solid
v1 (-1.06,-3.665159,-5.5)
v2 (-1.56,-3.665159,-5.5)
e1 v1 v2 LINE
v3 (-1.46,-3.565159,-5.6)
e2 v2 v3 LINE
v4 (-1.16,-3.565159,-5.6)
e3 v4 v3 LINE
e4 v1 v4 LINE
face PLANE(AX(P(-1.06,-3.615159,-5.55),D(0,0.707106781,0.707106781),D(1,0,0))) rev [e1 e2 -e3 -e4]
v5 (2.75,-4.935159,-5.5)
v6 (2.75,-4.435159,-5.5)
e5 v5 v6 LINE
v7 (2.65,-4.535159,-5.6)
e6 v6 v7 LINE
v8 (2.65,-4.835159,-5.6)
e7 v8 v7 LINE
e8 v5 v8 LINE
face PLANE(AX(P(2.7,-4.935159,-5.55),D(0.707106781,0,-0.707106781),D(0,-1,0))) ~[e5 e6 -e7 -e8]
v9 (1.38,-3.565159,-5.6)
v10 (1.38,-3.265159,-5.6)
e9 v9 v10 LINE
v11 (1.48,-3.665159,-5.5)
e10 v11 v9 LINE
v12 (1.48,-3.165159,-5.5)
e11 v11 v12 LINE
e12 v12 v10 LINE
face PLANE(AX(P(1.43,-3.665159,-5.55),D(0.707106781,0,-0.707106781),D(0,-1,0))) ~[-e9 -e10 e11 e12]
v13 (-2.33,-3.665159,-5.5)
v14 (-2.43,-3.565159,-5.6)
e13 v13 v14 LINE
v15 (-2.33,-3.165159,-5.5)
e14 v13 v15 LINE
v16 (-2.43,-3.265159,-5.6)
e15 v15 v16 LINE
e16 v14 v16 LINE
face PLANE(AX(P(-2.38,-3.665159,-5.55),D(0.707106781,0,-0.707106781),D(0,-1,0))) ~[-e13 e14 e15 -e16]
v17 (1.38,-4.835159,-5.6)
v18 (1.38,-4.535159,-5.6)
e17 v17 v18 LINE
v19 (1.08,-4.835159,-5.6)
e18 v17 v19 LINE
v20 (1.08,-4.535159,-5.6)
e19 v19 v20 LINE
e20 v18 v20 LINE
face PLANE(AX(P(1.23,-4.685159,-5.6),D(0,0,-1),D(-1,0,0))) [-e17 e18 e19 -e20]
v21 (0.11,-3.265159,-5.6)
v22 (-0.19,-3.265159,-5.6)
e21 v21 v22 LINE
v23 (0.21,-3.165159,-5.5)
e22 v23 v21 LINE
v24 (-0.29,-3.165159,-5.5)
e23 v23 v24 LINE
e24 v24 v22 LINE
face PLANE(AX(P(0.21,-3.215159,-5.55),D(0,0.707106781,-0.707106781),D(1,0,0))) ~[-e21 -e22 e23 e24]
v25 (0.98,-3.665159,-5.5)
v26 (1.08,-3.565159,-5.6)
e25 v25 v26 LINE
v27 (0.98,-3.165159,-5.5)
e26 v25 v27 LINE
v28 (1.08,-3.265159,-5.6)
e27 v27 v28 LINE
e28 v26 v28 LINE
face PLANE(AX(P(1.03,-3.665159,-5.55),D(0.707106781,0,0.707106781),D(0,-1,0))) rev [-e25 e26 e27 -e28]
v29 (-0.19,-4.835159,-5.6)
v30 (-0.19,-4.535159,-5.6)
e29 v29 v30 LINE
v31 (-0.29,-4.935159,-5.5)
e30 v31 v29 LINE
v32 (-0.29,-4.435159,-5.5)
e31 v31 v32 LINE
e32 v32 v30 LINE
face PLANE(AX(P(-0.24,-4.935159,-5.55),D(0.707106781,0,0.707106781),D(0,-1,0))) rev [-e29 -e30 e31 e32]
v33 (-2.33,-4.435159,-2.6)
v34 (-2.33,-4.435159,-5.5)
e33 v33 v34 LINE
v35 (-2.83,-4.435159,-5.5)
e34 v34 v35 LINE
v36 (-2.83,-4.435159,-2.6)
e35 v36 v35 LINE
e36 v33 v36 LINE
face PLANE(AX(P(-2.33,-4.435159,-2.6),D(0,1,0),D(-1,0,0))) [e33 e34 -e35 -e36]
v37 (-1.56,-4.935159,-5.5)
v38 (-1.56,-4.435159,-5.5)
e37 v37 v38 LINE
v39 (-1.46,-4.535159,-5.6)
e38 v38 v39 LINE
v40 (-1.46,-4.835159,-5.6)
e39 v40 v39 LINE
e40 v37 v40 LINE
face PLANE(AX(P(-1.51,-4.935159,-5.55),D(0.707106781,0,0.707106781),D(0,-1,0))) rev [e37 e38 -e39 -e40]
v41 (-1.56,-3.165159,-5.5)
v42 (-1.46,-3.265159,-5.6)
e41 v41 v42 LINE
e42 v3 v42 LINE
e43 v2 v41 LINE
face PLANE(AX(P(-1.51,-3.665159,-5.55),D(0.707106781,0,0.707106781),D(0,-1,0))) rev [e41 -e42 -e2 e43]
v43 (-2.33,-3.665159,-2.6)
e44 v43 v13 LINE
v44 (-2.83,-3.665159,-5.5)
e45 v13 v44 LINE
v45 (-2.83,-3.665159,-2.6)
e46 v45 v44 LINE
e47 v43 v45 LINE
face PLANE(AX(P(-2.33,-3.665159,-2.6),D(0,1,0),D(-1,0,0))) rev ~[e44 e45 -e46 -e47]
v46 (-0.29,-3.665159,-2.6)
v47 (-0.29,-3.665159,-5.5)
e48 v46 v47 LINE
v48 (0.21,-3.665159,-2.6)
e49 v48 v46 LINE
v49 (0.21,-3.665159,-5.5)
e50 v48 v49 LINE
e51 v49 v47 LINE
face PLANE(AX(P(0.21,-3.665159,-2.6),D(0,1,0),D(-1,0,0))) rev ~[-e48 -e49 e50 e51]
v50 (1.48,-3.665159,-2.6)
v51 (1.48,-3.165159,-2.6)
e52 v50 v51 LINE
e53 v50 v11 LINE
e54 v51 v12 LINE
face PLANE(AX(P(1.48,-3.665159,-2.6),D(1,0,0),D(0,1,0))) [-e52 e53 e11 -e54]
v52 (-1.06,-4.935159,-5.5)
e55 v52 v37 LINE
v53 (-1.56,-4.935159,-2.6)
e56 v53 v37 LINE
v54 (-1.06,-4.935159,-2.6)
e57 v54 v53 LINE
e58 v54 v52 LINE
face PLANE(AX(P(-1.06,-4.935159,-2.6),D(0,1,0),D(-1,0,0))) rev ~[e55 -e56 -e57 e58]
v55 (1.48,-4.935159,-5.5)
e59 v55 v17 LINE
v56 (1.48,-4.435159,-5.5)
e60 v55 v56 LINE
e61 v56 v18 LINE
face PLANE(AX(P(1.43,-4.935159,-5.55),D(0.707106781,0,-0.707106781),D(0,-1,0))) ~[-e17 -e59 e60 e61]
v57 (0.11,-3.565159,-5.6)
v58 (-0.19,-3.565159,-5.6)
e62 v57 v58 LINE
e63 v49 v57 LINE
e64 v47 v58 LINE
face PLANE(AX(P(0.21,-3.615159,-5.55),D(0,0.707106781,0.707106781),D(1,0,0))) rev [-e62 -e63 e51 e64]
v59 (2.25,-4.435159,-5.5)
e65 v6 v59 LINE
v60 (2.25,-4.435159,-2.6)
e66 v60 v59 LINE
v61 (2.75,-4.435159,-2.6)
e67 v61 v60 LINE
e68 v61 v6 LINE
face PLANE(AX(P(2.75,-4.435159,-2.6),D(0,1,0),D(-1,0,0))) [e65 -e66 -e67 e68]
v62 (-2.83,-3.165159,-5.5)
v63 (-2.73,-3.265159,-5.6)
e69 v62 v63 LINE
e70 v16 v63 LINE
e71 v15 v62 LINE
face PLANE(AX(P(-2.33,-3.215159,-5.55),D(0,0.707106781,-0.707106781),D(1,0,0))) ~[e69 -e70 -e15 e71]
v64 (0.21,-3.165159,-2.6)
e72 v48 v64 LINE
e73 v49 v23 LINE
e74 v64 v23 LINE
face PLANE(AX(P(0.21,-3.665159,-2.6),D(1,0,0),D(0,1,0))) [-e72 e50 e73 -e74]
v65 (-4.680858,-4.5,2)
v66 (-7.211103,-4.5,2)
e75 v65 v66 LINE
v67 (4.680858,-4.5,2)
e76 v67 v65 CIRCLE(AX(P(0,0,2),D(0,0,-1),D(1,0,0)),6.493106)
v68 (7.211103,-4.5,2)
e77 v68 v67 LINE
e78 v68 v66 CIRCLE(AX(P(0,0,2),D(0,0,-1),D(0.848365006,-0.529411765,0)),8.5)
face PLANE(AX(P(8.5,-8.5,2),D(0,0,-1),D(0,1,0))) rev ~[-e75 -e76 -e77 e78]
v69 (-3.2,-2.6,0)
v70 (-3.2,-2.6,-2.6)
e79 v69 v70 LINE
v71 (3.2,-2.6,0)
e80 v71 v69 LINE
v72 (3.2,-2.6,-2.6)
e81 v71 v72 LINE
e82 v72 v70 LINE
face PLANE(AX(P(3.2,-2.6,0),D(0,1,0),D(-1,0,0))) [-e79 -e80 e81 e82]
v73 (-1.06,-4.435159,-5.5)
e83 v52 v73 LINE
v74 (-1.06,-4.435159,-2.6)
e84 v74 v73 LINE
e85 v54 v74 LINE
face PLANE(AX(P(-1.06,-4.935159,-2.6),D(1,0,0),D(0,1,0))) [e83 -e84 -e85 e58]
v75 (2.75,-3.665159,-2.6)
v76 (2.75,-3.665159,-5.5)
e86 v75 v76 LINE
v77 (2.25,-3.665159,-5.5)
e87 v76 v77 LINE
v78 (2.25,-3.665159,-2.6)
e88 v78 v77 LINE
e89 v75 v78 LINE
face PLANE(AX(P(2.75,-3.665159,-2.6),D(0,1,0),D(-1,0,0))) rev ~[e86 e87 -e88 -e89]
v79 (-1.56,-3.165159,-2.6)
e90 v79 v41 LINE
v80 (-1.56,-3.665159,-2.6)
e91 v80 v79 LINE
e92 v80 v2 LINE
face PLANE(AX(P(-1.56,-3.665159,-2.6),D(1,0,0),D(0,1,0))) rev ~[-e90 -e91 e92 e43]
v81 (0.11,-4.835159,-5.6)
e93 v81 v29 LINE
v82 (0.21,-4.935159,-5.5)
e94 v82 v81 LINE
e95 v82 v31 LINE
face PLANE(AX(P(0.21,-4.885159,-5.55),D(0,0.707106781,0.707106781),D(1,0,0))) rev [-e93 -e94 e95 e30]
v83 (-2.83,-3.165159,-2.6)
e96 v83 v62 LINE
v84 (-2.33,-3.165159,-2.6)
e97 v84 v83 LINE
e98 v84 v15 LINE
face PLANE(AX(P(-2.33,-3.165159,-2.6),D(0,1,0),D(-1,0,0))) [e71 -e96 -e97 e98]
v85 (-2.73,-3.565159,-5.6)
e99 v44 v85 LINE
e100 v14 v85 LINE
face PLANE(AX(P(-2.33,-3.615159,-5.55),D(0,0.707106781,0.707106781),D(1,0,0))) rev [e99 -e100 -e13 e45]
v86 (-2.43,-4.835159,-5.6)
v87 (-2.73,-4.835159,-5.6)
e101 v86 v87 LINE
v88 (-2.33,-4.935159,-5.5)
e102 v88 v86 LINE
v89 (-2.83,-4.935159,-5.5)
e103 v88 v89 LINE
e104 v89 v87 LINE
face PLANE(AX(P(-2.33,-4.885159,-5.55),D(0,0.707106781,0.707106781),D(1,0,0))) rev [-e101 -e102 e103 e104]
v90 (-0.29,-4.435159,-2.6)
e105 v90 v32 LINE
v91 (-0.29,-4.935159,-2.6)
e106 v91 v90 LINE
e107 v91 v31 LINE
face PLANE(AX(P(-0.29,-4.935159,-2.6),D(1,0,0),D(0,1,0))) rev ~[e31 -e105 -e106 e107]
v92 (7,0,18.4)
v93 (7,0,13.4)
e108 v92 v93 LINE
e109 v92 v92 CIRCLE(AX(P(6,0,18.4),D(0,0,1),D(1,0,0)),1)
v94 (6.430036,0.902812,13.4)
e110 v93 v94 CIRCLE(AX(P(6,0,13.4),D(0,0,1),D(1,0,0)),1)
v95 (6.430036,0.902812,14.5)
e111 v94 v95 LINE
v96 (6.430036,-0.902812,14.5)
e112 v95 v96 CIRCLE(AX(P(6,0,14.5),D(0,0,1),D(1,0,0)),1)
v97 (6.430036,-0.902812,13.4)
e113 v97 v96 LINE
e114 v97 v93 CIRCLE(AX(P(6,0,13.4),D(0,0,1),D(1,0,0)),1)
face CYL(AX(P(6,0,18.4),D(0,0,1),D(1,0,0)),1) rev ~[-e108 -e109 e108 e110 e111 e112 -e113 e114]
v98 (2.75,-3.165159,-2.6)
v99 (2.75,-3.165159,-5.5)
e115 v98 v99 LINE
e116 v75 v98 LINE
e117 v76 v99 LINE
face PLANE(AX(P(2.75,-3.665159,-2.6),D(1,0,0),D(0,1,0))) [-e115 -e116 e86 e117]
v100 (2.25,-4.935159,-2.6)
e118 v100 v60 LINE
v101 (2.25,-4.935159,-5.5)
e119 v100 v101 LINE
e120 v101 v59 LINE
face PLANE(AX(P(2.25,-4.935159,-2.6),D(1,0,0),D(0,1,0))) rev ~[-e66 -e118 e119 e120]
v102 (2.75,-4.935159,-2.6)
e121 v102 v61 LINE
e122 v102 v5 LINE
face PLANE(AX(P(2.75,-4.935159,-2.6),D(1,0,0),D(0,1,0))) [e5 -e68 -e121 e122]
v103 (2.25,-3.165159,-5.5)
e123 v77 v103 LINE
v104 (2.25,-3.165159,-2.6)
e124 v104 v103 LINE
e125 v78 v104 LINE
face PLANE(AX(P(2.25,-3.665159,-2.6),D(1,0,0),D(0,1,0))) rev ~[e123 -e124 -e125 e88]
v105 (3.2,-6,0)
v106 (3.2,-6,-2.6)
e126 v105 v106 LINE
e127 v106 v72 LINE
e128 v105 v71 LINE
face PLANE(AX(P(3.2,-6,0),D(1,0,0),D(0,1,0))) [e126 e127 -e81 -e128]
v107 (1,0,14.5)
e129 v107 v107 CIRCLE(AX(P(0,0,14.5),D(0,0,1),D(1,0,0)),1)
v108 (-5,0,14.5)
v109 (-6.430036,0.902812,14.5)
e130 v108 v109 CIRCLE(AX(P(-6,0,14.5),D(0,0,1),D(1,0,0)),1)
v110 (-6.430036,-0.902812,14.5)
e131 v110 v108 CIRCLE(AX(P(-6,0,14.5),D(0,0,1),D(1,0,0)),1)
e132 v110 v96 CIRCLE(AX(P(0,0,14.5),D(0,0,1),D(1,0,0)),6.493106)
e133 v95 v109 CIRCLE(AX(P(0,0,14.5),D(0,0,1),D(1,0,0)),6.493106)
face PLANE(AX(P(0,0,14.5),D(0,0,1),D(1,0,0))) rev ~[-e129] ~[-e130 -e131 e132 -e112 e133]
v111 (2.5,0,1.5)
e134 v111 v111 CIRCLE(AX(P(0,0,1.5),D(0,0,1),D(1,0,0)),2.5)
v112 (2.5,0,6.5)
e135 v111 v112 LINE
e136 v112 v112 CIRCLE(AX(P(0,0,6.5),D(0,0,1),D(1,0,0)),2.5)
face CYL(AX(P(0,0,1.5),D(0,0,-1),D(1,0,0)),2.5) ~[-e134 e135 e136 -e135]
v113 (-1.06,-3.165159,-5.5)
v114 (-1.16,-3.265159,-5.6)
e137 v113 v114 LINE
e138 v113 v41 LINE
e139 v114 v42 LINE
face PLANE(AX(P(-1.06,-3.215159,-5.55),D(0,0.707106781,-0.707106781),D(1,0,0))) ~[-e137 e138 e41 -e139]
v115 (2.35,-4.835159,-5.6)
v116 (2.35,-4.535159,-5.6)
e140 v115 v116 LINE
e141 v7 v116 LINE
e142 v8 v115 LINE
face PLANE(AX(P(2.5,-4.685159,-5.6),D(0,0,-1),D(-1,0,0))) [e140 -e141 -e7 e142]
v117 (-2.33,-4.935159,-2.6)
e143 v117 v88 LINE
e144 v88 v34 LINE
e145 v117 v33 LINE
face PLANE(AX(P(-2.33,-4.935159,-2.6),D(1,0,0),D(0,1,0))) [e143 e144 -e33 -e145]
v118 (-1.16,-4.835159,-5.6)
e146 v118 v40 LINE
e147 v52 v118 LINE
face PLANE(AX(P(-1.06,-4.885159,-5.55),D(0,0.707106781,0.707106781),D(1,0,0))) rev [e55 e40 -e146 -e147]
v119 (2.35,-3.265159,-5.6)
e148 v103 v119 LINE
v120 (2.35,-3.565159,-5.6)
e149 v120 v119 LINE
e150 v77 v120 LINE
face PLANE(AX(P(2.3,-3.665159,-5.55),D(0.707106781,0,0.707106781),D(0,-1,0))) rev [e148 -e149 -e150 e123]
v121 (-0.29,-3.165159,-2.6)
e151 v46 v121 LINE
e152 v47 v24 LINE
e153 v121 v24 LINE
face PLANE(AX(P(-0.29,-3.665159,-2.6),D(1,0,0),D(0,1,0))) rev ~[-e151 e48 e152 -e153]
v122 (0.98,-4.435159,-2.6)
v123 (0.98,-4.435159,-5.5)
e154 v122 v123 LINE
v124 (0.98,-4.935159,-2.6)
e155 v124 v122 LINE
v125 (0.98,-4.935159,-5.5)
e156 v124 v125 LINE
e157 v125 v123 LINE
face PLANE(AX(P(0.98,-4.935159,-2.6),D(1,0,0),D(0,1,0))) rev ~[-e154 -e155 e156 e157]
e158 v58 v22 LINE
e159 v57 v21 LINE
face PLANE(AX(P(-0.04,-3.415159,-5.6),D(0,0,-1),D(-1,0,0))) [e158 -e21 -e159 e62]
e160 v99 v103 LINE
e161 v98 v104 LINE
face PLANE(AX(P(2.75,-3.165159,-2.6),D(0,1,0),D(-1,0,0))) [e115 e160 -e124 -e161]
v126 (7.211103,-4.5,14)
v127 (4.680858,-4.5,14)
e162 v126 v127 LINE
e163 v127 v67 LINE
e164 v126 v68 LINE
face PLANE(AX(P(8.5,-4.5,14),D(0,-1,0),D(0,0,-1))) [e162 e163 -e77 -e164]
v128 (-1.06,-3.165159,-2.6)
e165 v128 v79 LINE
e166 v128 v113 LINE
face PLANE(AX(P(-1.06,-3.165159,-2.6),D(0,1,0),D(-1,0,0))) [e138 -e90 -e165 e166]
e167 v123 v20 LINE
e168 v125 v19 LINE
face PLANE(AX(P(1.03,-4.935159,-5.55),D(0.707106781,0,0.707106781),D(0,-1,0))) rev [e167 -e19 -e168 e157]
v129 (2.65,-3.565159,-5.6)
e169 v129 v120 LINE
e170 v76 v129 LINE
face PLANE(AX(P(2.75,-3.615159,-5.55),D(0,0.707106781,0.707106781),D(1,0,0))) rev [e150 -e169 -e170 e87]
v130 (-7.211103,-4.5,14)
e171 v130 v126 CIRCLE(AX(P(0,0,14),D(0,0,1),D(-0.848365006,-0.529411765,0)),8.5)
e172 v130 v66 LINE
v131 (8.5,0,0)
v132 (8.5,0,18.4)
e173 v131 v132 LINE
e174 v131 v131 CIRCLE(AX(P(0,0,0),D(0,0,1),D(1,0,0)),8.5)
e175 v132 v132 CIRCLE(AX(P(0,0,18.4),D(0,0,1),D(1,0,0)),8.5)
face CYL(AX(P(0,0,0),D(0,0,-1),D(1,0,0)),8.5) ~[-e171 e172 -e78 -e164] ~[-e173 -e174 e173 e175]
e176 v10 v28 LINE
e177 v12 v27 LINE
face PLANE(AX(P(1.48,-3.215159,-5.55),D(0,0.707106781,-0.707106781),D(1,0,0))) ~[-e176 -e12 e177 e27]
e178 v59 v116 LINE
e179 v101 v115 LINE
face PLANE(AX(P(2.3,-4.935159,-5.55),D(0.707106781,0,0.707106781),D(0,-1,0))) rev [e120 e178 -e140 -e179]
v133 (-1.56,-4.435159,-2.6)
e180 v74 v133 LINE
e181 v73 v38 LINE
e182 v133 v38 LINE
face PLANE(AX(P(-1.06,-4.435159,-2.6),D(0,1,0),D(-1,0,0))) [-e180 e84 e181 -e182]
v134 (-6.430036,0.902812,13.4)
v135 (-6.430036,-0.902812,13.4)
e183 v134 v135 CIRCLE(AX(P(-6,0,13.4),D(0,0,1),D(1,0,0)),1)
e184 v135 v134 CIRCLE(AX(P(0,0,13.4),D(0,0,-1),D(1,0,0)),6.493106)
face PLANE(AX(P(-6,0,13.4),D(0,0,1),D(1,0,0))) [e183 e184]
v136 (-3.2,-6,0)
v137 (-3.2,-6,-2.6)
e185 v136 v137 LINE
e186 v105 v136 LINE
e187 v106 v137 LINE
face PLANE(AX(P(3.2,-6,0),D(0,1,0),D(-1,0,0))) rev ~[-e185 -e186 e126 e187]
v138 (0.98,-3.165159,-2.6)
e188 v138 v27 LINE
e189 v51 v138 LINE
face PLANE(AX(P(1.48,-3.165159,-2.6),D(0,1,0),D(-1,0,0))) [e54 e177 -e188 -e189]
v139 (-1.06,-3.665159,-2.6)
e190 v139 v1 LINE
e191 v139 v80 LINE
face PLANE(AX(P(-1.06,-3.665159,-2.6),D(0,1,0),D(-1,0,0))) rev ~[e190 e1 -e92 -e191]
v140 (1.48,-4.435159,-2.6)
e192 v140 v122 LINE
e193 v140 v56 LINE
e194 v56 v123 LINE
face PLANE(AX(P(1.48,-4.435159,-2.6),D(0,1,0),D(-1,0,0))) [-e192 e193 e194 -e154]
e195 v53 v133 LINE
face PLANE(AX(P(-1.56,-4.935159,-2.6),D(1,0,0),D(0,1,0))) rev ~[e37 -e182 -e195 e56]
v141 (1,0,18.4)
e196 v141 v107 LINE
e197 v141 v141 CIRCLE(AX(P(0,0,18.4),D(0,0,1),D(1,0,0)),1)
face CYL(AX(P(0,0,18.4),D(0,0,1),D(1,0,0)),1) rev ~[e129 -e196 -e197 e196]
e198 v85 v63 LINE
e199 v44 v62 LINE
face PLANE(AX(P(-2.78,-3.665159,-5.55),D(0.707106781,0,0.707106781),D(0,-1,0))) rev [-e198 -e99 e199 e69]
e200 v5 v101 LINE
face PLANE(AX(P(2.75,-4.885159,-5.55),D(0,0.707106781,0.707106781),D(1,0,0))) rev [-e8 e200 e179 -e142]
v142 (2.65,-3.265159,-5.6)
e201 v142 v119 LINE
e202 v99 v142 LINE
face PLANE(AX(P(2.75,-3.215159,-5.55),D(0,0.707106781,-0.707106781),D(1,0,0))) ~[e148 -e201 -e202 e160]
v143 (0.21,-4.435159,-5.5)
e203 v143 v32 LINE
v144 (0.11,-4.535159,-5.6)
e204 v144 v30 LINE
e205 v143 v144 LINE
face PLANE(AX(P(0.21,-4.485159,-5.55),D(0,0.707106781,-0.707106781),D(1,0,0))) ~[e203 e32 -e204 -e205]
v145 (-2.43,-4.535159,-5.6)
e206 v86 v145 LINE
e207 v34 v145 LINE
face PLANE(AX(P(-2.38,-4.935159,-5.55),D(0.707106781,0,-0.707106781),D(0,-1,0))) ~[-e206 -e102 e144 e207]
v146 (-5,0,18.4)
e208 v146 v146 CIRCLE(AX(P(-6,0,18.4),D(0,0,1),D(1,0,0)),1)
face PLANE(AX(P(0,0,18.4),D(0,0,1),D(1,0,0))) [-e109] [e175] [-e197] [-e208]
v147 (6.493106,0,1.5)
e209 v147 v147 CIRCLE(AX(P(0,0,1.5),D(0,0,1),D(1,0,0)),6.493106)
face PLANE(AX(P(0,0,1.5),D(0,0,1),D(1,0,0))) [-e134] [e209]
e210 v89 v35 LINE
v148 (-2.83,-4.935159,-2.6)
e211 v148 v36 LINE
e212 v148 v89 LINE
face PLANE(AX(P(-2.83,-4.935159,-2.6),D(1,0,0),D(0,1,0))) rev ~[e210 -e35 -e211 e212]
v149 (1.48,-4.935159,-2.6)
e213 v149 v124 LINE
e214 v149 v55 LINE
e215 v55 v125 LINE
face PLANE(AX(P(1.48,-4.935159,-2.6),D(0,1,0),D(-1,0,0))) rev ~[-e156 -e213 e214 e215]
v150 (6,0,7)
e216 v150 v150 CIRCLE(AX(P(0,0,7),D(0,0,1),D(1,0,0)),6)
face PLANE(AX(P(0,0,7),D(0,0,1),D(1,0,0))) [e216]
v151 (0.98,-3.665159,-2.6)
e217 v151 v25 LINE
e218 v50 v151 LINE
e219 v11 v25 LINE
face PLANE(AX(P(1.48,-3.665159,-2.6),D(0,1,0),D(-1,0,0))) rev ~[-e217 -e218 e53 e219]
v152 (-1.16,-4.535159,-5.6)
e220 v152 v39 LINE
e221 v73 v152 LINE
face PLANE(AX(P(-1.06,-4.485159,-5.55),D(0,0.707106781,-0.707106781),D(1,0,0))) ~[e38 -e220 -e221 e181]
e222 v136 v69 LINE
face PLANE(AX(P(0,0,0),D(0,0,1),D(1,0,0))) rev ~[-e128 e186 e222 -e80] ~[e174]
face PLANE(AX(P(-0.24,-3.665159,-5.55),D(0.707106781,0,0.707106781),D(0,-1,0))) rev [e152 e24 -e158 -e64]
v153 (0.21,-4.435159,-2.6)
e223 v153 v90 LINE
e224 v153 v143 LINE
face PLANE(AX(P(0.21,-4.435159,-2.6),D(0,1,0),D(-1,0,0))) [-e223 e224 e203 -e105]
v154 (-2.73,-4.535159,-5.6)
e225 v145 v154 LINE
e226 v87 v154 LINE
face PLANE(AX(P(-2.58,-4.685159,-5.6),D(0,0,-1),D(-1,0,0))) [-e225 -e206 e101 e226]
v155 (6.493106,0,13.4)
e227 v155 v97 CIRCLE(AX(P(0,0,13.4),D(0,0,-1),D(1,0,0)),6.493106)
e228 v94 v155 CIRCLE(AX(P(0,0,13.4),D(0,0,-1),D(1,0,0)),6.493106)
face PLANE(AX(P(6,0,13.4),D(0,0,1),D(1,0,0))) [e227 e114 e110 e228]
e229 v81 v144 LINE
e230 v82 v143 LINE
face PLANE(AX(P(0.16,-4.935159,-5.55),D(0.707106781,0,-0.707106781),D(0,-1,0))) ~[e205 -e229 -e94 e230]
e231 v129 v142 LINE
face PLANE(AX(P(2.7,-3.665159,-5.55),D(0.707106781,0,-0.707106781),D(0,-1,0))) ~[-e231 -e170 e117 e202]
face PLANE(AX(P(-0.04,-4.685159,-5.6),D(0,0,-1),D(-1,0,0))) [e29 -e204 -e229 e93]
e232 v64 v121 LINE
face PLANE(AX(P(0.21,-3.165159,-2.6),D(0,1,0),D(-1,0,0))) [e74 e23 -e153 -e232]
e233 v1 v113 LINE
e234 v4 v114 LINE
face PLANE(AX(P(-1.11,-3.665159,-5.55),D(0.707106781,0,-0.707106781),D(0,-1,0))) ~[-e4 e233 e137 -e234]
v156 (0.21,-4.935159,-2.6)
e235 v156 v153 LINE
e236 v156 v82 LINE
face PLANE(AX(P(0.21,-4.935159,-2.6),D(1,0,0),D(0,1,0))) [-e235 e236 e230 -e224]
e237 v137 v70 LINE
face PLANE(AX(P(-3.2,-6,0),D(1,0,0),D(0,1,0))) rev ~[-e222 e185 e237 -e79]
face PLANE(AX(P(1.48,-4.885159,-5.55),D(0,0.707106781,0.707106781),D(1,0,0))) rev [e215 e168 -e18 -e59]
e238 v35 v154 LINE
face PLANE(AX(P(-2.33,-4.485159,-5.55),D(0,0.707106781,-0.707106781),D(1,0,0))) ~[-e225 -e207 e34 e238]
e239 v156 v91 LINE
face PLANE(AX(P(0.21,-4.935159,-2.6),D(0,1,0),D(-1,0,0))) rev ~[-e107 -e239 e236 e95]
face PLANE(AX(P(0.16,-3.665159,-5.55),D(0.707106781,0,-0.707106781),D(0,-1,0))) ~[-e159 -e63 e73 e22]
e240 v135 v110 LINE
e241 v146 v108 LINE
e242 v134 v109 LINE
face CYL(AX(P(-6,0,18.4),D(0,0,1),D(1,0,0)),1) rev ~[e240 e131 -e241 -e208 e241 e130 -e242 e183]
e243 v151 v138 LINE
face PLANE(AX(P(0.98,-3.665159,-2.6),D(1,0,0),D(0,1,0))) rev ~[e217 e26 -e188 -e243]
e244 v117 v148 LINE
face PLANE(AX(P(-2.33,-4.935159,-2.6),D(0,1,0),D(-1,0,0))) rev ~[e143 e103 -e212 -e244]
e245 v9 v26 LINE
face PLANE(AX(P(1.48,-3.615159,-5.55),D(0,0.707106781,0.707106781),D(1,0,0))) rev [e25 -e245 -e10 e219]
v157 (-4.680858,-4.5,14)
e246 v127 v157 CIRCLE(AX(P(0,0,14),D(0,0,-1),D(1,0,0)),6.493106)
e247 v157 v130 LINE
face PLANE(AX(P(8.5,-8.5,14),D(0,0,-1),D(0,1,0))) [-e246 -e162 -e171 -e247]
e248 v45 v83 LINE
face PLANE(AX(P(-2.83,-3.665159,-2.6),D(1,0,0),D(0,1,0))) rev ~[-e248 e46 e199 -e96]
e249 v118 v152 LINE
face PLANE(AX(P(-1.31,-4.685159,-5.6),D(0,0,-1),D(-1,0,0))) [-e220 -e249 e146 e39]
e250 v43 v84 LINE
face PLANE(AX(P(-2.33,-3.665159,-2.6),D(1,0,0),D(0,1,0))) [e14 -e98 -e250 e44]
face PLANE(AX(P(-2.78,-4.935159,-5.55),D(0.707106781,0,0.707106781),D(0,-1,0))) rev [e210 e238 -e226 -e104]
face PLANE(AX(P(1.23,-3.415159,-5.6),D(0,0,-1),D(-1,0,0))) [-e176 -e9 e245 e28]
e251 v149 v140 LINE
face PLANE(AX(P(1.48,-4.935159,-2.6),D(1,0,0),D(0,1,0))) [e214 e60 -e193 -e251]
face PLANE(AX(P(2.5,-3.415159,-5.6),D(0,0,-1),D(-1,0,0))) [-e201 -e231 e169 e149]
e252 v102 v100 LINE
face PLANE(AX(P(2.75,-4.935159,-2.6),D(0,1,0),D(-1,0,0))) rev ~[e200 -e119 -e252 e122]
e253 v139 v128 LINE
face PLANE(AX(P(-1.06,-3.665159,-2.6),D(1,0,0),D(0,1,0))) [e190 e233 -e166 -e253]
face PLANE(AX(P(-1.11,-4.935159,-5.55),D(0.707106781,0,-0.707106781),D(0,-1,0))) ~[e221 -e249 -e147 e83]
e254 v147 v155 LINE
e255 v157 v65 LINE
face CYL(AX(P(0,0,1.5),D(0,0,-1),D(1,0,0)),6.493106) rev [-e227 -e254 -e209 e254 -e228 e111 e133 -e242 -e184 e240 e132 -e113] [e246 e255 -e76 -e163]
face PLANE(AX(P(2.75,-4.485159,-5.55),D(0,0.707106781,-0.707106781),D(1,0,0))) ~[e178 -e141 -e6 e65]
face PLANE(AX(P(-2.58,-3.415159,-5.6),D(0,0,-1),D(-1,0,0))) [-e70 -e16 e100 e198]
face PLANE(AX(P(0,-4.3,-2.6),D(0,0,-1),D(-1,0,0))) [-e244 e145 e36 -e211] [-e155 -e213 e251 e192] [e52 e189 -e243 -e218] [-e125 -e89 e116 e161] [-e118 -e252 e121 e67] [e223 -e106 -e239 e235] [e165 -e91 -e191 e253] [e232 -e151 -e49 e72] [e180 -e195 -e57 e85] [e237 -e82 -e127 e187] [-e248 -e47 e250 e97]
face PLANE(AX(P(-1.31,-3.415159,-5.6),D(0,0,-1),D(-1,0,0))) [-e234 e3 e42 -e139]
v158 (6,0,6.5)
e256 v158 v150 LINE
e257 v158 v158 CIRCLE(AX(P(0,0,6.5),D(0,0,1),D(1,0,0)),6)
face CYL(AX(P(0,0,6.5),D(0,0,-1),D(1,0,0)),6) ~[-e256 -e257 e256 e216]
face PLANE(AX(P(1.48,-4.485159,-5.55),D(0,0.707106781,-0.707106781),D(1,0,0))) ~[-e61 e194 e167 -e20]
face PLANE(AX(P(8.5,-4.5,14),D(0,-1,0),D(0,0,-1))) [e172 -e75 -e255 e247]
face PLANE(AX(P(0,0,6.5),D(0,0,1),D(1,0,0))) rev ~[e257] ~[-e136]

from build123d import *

# Parameters (mm, degrees)
ESQUISSE1_R                  = 8.5
BOSS_EXTRU_1_DEPTH           = 18.4
ESQUISSE2_W                  = 6.4
ESQUISSE2_H                  = 3.4
BOSS_EXTRU_2_DEPTH           = 2.6
ESQUISSE3_W                  = 0.5
ESQUISSE3_H                  = 0.5
BOSS_EXTRU_3_DEPTH           = 3
CHANFREIN1_SIZE              = 0.1
ESQUISSE4_W                  = 12
ESQUISSE4_H                  = 4
ENL_V_MAT_EXTRU_1_DEPTH      = 27.453922204
ESQUISSE5_R                  = 1
ENL_V_MAT_EXTRU_2_DEPTH      = 5
ENL_V_MAT_EXTRU_3_DEPTH      = 12.5
ENL_V_MAT_EXTRU_3_DEPTH_BACK = 0.5
ESQUISSE6_R                  = 6.493106385
ESQUISSE7_R                  = 2.5
BOSS_EXTRU_4_DEPTH           = 5
ESQUISSE8_R                  = 6
BOSS_EXTRU_5_DEPTH           = 0.5
ESQUISSE10_R                 = 1
ENL_V_MAT_EXTRU_4_DEPTH      = 10


with BuildPart() as part:
    # Esquisse1 → Boss.-Extru.1 (new body)
    with BuildSketch(Plane.XY):
        Circle(ESQUISSE1_R)
    extrude(amount=BOSS_EXTRU_1_DEPTH)

    # Esquisse2 → Boss.-Extru.2 (add)
    with BuildSketch(Plane(origin=(0, 0, 0), x_dir=(-1, 0, 0), z_dir=(0, 0, -1))):
        with Locations((0, -4.3)):
            Rectangle(ESQUISSE2_W, ESQUISSE2_H)
    extrude(amount=BOSS_EXTRU_2_DEPTH)

    # Esquisse3 → Boss.-Extru.3 (add)
    with BuildSketch(Plane(origin=(0, 0, -2.6), x_dir=(-1, 0, 0), z_dir=(0, 0, -1))):
        with Locations((-1.23, -3.415159268)):
            Rectangle(ESQUISSE3_W, ESQUISSE3_H)
        with Locations((-2.5, -3.415159268)):
            Rectangle(ESQUISSE3_W, ESQUISSE3_H)
        with Locations((0.04, -3.415159268)):
            Rectangle(ESQUISSE3_W, ESQUISSE3_H)
        with Locations((1.31, -3.415159268)):
            Rectangle(ESQUISSE3_W, ESQUISSE3_H)
        with Locations((2.58, -3.415159268)):
            Rectangle(ESQUISSE3_W, ESQUISSE3_H)
        with Locations((-2.5, -4.685159268)):
            Rectangle(ESQUISSE3_W, ESQUISSE3_H)
        with Locations((-1.23, -4.685159268)):
            Rectangle(ESQUISSE3_W, ESQUISSE3_H)
        with Locations((0.04, -4.685159268)):
            Rectangle(ESQUISSE3_W, ESQUISSE3_H)
        with Locations((1.31, -4.685159268)):
            Rectangle(ESQUISSE3_W, ESQUISSE3_H)
        with Locations((2.58, -4.685159268)):
            Rectangle(ESQUISSE3_W, ESQUISSE3_H)
    extrude(amount=BOSS_EXTRU_3_DEPTH)

    # Chanfrein1
    chanfrein1_edges = [part.edges().sort_by_distance(p)[0] for p in [
        (-1.06, -4.685159268, -5.6),
        (-1.31, -4.935159268, -5.6),
        (-1.56, -4.685159268, -5.6),
        (-1.31, -4.435159268, -5.6),
        (-2.33, -4.685159268, -5.6),
        (-2.58, -4.935159268, -5.6),
        (-2.83, -4.685159268, -5.6),
        (-2.58, -4.435159268, -5.6),
        (2.75, -3.415159268, -5.6),
        (2.5, -3.665159268, -5.6),
        (2.25, -3.415159268, -5.6),
        (2.5, -3.165159268, -5.6),
        (1.48, -3.415159268, -5.6),
        (1.23, -3.665159268, -5.6),
        (0.98, -3.415159268, -5.6),
        (1.23, -3.165159268, -5.6),
        (0.21, -3.415159268, -5.6),
        (-0.04, -3.665159268, -5.6),
        (-0.29, -3.415159268, -5.6),
        (-0.04, -3.165159268, -5.6),
        (-1.06, -3.415159268, -5.6),
        (-1.31, -3.665159268, -5.6),
        (-1.56, -3.415159268, -5.6),
        (-1.31, -3.165159268, -5.6),
        (-2.33, -3.415159268, -5.6),
        (-2.58, -3.665159268, -5.6),
        (-2.83, -3.415159268, -5.6),
        (-2.58, -3.165159268, -5.6),
        (2.75, -4.685159268, -5.6),
        (2.5, -4.935159268, -5.6),
        (2.25, -4.685159268, -5.6),
        (2.5, -4.435159268, -5.6),
        (1.48, -4.685159268, -5.6),
        (1.23, -4.935159268, -5.6),
        (0.98, -4.685159268, -5.6),
        (1.23, -4.435159268, -5.6),
        (0.21, -4.685159268, -5.6),
        (-0.04, -4.935159268, -5.6),
        (-0.29, -4.685159268, -5.6),
        (-0.04, -4.435159268, -5.6),
    ]]
    chamfer(chanfrein1_edges, length=CHANFREIN1_SIZE)

    # Esquisse4 → Enlèv. mat.-Extru.1 (cut, through all)
    with BuildSketch(Plane(origin=(8.5, 0, 0), x_dir=(0, 0, -1), z_dir=(1, 0, 0))):
        with Locations((-8, -6.5)):
            Rectangle(ESQUISSE4_W, ESQUISSE4_H)
    extrude(amount=-ENL_V_MAT_EXTRU_1_DEPTH, mode=Mode.SUBTRACT)

    # Esquisse5 → Enlèv. mat.-Extru.2 (cut)
    with BuildSketch(Plane.XY.offset(18.4)):
        with Locations((-6, 0)):
            Circle(ESQUISSE5_R)
        with Locations((6, 0)):
            Circle(ESQUISSE5_R)
    extrude(amount=-ENL_V_MAT_EXTRU_2_DEPTH, mode=Mode.SUBTRACT)

    # Esquisse6 → Enlèv. mat.-Extru.3 (cut, two sides: drawn at the far end of the back side and taken through both)
    with BuildSketch(Plane.XY.offset(2).offset(-ENL_V_MAT_EXTRU_3_DEPTH_BACK)):
        Circle(ESQUISSE6_R)
    extrude(amount=ENL_V_MAT_EXTRU_3_DEPTH + ENL_V_MAT_EXTRU_3_DEPTH_BACK, mode=Mode.SUBTRACT)

    # Esquisse7 → Boss.-Extru.4 (add)
    with BuildSketch(Plane.XY.offset(1.5)):
        Circle(ESQUISSE7_R)
    extrude(amount=BOSS_EXTRU_4_DEPTH)

    # Esquisse8 → Boss.-Extru.5 (add)
    with BuildSketch(Plane.XY.offset(6.5)):
        Circle(ESQUISSE8_R)
    extrude(amount=BOSS_EXTRU_5_DEPTH)

    # Esquisse10 → Enlèv. mat.-Extru.4 (cut)
    with BuildSketch(Plane.XY.offset(18.4)):
        Circle(ESQUISSE10_R)
    extrude(amount=-ENL_V_MAT_EXTRU_4_DEPTH, mode=Mode.SUBTRACT)


solid = part.part
